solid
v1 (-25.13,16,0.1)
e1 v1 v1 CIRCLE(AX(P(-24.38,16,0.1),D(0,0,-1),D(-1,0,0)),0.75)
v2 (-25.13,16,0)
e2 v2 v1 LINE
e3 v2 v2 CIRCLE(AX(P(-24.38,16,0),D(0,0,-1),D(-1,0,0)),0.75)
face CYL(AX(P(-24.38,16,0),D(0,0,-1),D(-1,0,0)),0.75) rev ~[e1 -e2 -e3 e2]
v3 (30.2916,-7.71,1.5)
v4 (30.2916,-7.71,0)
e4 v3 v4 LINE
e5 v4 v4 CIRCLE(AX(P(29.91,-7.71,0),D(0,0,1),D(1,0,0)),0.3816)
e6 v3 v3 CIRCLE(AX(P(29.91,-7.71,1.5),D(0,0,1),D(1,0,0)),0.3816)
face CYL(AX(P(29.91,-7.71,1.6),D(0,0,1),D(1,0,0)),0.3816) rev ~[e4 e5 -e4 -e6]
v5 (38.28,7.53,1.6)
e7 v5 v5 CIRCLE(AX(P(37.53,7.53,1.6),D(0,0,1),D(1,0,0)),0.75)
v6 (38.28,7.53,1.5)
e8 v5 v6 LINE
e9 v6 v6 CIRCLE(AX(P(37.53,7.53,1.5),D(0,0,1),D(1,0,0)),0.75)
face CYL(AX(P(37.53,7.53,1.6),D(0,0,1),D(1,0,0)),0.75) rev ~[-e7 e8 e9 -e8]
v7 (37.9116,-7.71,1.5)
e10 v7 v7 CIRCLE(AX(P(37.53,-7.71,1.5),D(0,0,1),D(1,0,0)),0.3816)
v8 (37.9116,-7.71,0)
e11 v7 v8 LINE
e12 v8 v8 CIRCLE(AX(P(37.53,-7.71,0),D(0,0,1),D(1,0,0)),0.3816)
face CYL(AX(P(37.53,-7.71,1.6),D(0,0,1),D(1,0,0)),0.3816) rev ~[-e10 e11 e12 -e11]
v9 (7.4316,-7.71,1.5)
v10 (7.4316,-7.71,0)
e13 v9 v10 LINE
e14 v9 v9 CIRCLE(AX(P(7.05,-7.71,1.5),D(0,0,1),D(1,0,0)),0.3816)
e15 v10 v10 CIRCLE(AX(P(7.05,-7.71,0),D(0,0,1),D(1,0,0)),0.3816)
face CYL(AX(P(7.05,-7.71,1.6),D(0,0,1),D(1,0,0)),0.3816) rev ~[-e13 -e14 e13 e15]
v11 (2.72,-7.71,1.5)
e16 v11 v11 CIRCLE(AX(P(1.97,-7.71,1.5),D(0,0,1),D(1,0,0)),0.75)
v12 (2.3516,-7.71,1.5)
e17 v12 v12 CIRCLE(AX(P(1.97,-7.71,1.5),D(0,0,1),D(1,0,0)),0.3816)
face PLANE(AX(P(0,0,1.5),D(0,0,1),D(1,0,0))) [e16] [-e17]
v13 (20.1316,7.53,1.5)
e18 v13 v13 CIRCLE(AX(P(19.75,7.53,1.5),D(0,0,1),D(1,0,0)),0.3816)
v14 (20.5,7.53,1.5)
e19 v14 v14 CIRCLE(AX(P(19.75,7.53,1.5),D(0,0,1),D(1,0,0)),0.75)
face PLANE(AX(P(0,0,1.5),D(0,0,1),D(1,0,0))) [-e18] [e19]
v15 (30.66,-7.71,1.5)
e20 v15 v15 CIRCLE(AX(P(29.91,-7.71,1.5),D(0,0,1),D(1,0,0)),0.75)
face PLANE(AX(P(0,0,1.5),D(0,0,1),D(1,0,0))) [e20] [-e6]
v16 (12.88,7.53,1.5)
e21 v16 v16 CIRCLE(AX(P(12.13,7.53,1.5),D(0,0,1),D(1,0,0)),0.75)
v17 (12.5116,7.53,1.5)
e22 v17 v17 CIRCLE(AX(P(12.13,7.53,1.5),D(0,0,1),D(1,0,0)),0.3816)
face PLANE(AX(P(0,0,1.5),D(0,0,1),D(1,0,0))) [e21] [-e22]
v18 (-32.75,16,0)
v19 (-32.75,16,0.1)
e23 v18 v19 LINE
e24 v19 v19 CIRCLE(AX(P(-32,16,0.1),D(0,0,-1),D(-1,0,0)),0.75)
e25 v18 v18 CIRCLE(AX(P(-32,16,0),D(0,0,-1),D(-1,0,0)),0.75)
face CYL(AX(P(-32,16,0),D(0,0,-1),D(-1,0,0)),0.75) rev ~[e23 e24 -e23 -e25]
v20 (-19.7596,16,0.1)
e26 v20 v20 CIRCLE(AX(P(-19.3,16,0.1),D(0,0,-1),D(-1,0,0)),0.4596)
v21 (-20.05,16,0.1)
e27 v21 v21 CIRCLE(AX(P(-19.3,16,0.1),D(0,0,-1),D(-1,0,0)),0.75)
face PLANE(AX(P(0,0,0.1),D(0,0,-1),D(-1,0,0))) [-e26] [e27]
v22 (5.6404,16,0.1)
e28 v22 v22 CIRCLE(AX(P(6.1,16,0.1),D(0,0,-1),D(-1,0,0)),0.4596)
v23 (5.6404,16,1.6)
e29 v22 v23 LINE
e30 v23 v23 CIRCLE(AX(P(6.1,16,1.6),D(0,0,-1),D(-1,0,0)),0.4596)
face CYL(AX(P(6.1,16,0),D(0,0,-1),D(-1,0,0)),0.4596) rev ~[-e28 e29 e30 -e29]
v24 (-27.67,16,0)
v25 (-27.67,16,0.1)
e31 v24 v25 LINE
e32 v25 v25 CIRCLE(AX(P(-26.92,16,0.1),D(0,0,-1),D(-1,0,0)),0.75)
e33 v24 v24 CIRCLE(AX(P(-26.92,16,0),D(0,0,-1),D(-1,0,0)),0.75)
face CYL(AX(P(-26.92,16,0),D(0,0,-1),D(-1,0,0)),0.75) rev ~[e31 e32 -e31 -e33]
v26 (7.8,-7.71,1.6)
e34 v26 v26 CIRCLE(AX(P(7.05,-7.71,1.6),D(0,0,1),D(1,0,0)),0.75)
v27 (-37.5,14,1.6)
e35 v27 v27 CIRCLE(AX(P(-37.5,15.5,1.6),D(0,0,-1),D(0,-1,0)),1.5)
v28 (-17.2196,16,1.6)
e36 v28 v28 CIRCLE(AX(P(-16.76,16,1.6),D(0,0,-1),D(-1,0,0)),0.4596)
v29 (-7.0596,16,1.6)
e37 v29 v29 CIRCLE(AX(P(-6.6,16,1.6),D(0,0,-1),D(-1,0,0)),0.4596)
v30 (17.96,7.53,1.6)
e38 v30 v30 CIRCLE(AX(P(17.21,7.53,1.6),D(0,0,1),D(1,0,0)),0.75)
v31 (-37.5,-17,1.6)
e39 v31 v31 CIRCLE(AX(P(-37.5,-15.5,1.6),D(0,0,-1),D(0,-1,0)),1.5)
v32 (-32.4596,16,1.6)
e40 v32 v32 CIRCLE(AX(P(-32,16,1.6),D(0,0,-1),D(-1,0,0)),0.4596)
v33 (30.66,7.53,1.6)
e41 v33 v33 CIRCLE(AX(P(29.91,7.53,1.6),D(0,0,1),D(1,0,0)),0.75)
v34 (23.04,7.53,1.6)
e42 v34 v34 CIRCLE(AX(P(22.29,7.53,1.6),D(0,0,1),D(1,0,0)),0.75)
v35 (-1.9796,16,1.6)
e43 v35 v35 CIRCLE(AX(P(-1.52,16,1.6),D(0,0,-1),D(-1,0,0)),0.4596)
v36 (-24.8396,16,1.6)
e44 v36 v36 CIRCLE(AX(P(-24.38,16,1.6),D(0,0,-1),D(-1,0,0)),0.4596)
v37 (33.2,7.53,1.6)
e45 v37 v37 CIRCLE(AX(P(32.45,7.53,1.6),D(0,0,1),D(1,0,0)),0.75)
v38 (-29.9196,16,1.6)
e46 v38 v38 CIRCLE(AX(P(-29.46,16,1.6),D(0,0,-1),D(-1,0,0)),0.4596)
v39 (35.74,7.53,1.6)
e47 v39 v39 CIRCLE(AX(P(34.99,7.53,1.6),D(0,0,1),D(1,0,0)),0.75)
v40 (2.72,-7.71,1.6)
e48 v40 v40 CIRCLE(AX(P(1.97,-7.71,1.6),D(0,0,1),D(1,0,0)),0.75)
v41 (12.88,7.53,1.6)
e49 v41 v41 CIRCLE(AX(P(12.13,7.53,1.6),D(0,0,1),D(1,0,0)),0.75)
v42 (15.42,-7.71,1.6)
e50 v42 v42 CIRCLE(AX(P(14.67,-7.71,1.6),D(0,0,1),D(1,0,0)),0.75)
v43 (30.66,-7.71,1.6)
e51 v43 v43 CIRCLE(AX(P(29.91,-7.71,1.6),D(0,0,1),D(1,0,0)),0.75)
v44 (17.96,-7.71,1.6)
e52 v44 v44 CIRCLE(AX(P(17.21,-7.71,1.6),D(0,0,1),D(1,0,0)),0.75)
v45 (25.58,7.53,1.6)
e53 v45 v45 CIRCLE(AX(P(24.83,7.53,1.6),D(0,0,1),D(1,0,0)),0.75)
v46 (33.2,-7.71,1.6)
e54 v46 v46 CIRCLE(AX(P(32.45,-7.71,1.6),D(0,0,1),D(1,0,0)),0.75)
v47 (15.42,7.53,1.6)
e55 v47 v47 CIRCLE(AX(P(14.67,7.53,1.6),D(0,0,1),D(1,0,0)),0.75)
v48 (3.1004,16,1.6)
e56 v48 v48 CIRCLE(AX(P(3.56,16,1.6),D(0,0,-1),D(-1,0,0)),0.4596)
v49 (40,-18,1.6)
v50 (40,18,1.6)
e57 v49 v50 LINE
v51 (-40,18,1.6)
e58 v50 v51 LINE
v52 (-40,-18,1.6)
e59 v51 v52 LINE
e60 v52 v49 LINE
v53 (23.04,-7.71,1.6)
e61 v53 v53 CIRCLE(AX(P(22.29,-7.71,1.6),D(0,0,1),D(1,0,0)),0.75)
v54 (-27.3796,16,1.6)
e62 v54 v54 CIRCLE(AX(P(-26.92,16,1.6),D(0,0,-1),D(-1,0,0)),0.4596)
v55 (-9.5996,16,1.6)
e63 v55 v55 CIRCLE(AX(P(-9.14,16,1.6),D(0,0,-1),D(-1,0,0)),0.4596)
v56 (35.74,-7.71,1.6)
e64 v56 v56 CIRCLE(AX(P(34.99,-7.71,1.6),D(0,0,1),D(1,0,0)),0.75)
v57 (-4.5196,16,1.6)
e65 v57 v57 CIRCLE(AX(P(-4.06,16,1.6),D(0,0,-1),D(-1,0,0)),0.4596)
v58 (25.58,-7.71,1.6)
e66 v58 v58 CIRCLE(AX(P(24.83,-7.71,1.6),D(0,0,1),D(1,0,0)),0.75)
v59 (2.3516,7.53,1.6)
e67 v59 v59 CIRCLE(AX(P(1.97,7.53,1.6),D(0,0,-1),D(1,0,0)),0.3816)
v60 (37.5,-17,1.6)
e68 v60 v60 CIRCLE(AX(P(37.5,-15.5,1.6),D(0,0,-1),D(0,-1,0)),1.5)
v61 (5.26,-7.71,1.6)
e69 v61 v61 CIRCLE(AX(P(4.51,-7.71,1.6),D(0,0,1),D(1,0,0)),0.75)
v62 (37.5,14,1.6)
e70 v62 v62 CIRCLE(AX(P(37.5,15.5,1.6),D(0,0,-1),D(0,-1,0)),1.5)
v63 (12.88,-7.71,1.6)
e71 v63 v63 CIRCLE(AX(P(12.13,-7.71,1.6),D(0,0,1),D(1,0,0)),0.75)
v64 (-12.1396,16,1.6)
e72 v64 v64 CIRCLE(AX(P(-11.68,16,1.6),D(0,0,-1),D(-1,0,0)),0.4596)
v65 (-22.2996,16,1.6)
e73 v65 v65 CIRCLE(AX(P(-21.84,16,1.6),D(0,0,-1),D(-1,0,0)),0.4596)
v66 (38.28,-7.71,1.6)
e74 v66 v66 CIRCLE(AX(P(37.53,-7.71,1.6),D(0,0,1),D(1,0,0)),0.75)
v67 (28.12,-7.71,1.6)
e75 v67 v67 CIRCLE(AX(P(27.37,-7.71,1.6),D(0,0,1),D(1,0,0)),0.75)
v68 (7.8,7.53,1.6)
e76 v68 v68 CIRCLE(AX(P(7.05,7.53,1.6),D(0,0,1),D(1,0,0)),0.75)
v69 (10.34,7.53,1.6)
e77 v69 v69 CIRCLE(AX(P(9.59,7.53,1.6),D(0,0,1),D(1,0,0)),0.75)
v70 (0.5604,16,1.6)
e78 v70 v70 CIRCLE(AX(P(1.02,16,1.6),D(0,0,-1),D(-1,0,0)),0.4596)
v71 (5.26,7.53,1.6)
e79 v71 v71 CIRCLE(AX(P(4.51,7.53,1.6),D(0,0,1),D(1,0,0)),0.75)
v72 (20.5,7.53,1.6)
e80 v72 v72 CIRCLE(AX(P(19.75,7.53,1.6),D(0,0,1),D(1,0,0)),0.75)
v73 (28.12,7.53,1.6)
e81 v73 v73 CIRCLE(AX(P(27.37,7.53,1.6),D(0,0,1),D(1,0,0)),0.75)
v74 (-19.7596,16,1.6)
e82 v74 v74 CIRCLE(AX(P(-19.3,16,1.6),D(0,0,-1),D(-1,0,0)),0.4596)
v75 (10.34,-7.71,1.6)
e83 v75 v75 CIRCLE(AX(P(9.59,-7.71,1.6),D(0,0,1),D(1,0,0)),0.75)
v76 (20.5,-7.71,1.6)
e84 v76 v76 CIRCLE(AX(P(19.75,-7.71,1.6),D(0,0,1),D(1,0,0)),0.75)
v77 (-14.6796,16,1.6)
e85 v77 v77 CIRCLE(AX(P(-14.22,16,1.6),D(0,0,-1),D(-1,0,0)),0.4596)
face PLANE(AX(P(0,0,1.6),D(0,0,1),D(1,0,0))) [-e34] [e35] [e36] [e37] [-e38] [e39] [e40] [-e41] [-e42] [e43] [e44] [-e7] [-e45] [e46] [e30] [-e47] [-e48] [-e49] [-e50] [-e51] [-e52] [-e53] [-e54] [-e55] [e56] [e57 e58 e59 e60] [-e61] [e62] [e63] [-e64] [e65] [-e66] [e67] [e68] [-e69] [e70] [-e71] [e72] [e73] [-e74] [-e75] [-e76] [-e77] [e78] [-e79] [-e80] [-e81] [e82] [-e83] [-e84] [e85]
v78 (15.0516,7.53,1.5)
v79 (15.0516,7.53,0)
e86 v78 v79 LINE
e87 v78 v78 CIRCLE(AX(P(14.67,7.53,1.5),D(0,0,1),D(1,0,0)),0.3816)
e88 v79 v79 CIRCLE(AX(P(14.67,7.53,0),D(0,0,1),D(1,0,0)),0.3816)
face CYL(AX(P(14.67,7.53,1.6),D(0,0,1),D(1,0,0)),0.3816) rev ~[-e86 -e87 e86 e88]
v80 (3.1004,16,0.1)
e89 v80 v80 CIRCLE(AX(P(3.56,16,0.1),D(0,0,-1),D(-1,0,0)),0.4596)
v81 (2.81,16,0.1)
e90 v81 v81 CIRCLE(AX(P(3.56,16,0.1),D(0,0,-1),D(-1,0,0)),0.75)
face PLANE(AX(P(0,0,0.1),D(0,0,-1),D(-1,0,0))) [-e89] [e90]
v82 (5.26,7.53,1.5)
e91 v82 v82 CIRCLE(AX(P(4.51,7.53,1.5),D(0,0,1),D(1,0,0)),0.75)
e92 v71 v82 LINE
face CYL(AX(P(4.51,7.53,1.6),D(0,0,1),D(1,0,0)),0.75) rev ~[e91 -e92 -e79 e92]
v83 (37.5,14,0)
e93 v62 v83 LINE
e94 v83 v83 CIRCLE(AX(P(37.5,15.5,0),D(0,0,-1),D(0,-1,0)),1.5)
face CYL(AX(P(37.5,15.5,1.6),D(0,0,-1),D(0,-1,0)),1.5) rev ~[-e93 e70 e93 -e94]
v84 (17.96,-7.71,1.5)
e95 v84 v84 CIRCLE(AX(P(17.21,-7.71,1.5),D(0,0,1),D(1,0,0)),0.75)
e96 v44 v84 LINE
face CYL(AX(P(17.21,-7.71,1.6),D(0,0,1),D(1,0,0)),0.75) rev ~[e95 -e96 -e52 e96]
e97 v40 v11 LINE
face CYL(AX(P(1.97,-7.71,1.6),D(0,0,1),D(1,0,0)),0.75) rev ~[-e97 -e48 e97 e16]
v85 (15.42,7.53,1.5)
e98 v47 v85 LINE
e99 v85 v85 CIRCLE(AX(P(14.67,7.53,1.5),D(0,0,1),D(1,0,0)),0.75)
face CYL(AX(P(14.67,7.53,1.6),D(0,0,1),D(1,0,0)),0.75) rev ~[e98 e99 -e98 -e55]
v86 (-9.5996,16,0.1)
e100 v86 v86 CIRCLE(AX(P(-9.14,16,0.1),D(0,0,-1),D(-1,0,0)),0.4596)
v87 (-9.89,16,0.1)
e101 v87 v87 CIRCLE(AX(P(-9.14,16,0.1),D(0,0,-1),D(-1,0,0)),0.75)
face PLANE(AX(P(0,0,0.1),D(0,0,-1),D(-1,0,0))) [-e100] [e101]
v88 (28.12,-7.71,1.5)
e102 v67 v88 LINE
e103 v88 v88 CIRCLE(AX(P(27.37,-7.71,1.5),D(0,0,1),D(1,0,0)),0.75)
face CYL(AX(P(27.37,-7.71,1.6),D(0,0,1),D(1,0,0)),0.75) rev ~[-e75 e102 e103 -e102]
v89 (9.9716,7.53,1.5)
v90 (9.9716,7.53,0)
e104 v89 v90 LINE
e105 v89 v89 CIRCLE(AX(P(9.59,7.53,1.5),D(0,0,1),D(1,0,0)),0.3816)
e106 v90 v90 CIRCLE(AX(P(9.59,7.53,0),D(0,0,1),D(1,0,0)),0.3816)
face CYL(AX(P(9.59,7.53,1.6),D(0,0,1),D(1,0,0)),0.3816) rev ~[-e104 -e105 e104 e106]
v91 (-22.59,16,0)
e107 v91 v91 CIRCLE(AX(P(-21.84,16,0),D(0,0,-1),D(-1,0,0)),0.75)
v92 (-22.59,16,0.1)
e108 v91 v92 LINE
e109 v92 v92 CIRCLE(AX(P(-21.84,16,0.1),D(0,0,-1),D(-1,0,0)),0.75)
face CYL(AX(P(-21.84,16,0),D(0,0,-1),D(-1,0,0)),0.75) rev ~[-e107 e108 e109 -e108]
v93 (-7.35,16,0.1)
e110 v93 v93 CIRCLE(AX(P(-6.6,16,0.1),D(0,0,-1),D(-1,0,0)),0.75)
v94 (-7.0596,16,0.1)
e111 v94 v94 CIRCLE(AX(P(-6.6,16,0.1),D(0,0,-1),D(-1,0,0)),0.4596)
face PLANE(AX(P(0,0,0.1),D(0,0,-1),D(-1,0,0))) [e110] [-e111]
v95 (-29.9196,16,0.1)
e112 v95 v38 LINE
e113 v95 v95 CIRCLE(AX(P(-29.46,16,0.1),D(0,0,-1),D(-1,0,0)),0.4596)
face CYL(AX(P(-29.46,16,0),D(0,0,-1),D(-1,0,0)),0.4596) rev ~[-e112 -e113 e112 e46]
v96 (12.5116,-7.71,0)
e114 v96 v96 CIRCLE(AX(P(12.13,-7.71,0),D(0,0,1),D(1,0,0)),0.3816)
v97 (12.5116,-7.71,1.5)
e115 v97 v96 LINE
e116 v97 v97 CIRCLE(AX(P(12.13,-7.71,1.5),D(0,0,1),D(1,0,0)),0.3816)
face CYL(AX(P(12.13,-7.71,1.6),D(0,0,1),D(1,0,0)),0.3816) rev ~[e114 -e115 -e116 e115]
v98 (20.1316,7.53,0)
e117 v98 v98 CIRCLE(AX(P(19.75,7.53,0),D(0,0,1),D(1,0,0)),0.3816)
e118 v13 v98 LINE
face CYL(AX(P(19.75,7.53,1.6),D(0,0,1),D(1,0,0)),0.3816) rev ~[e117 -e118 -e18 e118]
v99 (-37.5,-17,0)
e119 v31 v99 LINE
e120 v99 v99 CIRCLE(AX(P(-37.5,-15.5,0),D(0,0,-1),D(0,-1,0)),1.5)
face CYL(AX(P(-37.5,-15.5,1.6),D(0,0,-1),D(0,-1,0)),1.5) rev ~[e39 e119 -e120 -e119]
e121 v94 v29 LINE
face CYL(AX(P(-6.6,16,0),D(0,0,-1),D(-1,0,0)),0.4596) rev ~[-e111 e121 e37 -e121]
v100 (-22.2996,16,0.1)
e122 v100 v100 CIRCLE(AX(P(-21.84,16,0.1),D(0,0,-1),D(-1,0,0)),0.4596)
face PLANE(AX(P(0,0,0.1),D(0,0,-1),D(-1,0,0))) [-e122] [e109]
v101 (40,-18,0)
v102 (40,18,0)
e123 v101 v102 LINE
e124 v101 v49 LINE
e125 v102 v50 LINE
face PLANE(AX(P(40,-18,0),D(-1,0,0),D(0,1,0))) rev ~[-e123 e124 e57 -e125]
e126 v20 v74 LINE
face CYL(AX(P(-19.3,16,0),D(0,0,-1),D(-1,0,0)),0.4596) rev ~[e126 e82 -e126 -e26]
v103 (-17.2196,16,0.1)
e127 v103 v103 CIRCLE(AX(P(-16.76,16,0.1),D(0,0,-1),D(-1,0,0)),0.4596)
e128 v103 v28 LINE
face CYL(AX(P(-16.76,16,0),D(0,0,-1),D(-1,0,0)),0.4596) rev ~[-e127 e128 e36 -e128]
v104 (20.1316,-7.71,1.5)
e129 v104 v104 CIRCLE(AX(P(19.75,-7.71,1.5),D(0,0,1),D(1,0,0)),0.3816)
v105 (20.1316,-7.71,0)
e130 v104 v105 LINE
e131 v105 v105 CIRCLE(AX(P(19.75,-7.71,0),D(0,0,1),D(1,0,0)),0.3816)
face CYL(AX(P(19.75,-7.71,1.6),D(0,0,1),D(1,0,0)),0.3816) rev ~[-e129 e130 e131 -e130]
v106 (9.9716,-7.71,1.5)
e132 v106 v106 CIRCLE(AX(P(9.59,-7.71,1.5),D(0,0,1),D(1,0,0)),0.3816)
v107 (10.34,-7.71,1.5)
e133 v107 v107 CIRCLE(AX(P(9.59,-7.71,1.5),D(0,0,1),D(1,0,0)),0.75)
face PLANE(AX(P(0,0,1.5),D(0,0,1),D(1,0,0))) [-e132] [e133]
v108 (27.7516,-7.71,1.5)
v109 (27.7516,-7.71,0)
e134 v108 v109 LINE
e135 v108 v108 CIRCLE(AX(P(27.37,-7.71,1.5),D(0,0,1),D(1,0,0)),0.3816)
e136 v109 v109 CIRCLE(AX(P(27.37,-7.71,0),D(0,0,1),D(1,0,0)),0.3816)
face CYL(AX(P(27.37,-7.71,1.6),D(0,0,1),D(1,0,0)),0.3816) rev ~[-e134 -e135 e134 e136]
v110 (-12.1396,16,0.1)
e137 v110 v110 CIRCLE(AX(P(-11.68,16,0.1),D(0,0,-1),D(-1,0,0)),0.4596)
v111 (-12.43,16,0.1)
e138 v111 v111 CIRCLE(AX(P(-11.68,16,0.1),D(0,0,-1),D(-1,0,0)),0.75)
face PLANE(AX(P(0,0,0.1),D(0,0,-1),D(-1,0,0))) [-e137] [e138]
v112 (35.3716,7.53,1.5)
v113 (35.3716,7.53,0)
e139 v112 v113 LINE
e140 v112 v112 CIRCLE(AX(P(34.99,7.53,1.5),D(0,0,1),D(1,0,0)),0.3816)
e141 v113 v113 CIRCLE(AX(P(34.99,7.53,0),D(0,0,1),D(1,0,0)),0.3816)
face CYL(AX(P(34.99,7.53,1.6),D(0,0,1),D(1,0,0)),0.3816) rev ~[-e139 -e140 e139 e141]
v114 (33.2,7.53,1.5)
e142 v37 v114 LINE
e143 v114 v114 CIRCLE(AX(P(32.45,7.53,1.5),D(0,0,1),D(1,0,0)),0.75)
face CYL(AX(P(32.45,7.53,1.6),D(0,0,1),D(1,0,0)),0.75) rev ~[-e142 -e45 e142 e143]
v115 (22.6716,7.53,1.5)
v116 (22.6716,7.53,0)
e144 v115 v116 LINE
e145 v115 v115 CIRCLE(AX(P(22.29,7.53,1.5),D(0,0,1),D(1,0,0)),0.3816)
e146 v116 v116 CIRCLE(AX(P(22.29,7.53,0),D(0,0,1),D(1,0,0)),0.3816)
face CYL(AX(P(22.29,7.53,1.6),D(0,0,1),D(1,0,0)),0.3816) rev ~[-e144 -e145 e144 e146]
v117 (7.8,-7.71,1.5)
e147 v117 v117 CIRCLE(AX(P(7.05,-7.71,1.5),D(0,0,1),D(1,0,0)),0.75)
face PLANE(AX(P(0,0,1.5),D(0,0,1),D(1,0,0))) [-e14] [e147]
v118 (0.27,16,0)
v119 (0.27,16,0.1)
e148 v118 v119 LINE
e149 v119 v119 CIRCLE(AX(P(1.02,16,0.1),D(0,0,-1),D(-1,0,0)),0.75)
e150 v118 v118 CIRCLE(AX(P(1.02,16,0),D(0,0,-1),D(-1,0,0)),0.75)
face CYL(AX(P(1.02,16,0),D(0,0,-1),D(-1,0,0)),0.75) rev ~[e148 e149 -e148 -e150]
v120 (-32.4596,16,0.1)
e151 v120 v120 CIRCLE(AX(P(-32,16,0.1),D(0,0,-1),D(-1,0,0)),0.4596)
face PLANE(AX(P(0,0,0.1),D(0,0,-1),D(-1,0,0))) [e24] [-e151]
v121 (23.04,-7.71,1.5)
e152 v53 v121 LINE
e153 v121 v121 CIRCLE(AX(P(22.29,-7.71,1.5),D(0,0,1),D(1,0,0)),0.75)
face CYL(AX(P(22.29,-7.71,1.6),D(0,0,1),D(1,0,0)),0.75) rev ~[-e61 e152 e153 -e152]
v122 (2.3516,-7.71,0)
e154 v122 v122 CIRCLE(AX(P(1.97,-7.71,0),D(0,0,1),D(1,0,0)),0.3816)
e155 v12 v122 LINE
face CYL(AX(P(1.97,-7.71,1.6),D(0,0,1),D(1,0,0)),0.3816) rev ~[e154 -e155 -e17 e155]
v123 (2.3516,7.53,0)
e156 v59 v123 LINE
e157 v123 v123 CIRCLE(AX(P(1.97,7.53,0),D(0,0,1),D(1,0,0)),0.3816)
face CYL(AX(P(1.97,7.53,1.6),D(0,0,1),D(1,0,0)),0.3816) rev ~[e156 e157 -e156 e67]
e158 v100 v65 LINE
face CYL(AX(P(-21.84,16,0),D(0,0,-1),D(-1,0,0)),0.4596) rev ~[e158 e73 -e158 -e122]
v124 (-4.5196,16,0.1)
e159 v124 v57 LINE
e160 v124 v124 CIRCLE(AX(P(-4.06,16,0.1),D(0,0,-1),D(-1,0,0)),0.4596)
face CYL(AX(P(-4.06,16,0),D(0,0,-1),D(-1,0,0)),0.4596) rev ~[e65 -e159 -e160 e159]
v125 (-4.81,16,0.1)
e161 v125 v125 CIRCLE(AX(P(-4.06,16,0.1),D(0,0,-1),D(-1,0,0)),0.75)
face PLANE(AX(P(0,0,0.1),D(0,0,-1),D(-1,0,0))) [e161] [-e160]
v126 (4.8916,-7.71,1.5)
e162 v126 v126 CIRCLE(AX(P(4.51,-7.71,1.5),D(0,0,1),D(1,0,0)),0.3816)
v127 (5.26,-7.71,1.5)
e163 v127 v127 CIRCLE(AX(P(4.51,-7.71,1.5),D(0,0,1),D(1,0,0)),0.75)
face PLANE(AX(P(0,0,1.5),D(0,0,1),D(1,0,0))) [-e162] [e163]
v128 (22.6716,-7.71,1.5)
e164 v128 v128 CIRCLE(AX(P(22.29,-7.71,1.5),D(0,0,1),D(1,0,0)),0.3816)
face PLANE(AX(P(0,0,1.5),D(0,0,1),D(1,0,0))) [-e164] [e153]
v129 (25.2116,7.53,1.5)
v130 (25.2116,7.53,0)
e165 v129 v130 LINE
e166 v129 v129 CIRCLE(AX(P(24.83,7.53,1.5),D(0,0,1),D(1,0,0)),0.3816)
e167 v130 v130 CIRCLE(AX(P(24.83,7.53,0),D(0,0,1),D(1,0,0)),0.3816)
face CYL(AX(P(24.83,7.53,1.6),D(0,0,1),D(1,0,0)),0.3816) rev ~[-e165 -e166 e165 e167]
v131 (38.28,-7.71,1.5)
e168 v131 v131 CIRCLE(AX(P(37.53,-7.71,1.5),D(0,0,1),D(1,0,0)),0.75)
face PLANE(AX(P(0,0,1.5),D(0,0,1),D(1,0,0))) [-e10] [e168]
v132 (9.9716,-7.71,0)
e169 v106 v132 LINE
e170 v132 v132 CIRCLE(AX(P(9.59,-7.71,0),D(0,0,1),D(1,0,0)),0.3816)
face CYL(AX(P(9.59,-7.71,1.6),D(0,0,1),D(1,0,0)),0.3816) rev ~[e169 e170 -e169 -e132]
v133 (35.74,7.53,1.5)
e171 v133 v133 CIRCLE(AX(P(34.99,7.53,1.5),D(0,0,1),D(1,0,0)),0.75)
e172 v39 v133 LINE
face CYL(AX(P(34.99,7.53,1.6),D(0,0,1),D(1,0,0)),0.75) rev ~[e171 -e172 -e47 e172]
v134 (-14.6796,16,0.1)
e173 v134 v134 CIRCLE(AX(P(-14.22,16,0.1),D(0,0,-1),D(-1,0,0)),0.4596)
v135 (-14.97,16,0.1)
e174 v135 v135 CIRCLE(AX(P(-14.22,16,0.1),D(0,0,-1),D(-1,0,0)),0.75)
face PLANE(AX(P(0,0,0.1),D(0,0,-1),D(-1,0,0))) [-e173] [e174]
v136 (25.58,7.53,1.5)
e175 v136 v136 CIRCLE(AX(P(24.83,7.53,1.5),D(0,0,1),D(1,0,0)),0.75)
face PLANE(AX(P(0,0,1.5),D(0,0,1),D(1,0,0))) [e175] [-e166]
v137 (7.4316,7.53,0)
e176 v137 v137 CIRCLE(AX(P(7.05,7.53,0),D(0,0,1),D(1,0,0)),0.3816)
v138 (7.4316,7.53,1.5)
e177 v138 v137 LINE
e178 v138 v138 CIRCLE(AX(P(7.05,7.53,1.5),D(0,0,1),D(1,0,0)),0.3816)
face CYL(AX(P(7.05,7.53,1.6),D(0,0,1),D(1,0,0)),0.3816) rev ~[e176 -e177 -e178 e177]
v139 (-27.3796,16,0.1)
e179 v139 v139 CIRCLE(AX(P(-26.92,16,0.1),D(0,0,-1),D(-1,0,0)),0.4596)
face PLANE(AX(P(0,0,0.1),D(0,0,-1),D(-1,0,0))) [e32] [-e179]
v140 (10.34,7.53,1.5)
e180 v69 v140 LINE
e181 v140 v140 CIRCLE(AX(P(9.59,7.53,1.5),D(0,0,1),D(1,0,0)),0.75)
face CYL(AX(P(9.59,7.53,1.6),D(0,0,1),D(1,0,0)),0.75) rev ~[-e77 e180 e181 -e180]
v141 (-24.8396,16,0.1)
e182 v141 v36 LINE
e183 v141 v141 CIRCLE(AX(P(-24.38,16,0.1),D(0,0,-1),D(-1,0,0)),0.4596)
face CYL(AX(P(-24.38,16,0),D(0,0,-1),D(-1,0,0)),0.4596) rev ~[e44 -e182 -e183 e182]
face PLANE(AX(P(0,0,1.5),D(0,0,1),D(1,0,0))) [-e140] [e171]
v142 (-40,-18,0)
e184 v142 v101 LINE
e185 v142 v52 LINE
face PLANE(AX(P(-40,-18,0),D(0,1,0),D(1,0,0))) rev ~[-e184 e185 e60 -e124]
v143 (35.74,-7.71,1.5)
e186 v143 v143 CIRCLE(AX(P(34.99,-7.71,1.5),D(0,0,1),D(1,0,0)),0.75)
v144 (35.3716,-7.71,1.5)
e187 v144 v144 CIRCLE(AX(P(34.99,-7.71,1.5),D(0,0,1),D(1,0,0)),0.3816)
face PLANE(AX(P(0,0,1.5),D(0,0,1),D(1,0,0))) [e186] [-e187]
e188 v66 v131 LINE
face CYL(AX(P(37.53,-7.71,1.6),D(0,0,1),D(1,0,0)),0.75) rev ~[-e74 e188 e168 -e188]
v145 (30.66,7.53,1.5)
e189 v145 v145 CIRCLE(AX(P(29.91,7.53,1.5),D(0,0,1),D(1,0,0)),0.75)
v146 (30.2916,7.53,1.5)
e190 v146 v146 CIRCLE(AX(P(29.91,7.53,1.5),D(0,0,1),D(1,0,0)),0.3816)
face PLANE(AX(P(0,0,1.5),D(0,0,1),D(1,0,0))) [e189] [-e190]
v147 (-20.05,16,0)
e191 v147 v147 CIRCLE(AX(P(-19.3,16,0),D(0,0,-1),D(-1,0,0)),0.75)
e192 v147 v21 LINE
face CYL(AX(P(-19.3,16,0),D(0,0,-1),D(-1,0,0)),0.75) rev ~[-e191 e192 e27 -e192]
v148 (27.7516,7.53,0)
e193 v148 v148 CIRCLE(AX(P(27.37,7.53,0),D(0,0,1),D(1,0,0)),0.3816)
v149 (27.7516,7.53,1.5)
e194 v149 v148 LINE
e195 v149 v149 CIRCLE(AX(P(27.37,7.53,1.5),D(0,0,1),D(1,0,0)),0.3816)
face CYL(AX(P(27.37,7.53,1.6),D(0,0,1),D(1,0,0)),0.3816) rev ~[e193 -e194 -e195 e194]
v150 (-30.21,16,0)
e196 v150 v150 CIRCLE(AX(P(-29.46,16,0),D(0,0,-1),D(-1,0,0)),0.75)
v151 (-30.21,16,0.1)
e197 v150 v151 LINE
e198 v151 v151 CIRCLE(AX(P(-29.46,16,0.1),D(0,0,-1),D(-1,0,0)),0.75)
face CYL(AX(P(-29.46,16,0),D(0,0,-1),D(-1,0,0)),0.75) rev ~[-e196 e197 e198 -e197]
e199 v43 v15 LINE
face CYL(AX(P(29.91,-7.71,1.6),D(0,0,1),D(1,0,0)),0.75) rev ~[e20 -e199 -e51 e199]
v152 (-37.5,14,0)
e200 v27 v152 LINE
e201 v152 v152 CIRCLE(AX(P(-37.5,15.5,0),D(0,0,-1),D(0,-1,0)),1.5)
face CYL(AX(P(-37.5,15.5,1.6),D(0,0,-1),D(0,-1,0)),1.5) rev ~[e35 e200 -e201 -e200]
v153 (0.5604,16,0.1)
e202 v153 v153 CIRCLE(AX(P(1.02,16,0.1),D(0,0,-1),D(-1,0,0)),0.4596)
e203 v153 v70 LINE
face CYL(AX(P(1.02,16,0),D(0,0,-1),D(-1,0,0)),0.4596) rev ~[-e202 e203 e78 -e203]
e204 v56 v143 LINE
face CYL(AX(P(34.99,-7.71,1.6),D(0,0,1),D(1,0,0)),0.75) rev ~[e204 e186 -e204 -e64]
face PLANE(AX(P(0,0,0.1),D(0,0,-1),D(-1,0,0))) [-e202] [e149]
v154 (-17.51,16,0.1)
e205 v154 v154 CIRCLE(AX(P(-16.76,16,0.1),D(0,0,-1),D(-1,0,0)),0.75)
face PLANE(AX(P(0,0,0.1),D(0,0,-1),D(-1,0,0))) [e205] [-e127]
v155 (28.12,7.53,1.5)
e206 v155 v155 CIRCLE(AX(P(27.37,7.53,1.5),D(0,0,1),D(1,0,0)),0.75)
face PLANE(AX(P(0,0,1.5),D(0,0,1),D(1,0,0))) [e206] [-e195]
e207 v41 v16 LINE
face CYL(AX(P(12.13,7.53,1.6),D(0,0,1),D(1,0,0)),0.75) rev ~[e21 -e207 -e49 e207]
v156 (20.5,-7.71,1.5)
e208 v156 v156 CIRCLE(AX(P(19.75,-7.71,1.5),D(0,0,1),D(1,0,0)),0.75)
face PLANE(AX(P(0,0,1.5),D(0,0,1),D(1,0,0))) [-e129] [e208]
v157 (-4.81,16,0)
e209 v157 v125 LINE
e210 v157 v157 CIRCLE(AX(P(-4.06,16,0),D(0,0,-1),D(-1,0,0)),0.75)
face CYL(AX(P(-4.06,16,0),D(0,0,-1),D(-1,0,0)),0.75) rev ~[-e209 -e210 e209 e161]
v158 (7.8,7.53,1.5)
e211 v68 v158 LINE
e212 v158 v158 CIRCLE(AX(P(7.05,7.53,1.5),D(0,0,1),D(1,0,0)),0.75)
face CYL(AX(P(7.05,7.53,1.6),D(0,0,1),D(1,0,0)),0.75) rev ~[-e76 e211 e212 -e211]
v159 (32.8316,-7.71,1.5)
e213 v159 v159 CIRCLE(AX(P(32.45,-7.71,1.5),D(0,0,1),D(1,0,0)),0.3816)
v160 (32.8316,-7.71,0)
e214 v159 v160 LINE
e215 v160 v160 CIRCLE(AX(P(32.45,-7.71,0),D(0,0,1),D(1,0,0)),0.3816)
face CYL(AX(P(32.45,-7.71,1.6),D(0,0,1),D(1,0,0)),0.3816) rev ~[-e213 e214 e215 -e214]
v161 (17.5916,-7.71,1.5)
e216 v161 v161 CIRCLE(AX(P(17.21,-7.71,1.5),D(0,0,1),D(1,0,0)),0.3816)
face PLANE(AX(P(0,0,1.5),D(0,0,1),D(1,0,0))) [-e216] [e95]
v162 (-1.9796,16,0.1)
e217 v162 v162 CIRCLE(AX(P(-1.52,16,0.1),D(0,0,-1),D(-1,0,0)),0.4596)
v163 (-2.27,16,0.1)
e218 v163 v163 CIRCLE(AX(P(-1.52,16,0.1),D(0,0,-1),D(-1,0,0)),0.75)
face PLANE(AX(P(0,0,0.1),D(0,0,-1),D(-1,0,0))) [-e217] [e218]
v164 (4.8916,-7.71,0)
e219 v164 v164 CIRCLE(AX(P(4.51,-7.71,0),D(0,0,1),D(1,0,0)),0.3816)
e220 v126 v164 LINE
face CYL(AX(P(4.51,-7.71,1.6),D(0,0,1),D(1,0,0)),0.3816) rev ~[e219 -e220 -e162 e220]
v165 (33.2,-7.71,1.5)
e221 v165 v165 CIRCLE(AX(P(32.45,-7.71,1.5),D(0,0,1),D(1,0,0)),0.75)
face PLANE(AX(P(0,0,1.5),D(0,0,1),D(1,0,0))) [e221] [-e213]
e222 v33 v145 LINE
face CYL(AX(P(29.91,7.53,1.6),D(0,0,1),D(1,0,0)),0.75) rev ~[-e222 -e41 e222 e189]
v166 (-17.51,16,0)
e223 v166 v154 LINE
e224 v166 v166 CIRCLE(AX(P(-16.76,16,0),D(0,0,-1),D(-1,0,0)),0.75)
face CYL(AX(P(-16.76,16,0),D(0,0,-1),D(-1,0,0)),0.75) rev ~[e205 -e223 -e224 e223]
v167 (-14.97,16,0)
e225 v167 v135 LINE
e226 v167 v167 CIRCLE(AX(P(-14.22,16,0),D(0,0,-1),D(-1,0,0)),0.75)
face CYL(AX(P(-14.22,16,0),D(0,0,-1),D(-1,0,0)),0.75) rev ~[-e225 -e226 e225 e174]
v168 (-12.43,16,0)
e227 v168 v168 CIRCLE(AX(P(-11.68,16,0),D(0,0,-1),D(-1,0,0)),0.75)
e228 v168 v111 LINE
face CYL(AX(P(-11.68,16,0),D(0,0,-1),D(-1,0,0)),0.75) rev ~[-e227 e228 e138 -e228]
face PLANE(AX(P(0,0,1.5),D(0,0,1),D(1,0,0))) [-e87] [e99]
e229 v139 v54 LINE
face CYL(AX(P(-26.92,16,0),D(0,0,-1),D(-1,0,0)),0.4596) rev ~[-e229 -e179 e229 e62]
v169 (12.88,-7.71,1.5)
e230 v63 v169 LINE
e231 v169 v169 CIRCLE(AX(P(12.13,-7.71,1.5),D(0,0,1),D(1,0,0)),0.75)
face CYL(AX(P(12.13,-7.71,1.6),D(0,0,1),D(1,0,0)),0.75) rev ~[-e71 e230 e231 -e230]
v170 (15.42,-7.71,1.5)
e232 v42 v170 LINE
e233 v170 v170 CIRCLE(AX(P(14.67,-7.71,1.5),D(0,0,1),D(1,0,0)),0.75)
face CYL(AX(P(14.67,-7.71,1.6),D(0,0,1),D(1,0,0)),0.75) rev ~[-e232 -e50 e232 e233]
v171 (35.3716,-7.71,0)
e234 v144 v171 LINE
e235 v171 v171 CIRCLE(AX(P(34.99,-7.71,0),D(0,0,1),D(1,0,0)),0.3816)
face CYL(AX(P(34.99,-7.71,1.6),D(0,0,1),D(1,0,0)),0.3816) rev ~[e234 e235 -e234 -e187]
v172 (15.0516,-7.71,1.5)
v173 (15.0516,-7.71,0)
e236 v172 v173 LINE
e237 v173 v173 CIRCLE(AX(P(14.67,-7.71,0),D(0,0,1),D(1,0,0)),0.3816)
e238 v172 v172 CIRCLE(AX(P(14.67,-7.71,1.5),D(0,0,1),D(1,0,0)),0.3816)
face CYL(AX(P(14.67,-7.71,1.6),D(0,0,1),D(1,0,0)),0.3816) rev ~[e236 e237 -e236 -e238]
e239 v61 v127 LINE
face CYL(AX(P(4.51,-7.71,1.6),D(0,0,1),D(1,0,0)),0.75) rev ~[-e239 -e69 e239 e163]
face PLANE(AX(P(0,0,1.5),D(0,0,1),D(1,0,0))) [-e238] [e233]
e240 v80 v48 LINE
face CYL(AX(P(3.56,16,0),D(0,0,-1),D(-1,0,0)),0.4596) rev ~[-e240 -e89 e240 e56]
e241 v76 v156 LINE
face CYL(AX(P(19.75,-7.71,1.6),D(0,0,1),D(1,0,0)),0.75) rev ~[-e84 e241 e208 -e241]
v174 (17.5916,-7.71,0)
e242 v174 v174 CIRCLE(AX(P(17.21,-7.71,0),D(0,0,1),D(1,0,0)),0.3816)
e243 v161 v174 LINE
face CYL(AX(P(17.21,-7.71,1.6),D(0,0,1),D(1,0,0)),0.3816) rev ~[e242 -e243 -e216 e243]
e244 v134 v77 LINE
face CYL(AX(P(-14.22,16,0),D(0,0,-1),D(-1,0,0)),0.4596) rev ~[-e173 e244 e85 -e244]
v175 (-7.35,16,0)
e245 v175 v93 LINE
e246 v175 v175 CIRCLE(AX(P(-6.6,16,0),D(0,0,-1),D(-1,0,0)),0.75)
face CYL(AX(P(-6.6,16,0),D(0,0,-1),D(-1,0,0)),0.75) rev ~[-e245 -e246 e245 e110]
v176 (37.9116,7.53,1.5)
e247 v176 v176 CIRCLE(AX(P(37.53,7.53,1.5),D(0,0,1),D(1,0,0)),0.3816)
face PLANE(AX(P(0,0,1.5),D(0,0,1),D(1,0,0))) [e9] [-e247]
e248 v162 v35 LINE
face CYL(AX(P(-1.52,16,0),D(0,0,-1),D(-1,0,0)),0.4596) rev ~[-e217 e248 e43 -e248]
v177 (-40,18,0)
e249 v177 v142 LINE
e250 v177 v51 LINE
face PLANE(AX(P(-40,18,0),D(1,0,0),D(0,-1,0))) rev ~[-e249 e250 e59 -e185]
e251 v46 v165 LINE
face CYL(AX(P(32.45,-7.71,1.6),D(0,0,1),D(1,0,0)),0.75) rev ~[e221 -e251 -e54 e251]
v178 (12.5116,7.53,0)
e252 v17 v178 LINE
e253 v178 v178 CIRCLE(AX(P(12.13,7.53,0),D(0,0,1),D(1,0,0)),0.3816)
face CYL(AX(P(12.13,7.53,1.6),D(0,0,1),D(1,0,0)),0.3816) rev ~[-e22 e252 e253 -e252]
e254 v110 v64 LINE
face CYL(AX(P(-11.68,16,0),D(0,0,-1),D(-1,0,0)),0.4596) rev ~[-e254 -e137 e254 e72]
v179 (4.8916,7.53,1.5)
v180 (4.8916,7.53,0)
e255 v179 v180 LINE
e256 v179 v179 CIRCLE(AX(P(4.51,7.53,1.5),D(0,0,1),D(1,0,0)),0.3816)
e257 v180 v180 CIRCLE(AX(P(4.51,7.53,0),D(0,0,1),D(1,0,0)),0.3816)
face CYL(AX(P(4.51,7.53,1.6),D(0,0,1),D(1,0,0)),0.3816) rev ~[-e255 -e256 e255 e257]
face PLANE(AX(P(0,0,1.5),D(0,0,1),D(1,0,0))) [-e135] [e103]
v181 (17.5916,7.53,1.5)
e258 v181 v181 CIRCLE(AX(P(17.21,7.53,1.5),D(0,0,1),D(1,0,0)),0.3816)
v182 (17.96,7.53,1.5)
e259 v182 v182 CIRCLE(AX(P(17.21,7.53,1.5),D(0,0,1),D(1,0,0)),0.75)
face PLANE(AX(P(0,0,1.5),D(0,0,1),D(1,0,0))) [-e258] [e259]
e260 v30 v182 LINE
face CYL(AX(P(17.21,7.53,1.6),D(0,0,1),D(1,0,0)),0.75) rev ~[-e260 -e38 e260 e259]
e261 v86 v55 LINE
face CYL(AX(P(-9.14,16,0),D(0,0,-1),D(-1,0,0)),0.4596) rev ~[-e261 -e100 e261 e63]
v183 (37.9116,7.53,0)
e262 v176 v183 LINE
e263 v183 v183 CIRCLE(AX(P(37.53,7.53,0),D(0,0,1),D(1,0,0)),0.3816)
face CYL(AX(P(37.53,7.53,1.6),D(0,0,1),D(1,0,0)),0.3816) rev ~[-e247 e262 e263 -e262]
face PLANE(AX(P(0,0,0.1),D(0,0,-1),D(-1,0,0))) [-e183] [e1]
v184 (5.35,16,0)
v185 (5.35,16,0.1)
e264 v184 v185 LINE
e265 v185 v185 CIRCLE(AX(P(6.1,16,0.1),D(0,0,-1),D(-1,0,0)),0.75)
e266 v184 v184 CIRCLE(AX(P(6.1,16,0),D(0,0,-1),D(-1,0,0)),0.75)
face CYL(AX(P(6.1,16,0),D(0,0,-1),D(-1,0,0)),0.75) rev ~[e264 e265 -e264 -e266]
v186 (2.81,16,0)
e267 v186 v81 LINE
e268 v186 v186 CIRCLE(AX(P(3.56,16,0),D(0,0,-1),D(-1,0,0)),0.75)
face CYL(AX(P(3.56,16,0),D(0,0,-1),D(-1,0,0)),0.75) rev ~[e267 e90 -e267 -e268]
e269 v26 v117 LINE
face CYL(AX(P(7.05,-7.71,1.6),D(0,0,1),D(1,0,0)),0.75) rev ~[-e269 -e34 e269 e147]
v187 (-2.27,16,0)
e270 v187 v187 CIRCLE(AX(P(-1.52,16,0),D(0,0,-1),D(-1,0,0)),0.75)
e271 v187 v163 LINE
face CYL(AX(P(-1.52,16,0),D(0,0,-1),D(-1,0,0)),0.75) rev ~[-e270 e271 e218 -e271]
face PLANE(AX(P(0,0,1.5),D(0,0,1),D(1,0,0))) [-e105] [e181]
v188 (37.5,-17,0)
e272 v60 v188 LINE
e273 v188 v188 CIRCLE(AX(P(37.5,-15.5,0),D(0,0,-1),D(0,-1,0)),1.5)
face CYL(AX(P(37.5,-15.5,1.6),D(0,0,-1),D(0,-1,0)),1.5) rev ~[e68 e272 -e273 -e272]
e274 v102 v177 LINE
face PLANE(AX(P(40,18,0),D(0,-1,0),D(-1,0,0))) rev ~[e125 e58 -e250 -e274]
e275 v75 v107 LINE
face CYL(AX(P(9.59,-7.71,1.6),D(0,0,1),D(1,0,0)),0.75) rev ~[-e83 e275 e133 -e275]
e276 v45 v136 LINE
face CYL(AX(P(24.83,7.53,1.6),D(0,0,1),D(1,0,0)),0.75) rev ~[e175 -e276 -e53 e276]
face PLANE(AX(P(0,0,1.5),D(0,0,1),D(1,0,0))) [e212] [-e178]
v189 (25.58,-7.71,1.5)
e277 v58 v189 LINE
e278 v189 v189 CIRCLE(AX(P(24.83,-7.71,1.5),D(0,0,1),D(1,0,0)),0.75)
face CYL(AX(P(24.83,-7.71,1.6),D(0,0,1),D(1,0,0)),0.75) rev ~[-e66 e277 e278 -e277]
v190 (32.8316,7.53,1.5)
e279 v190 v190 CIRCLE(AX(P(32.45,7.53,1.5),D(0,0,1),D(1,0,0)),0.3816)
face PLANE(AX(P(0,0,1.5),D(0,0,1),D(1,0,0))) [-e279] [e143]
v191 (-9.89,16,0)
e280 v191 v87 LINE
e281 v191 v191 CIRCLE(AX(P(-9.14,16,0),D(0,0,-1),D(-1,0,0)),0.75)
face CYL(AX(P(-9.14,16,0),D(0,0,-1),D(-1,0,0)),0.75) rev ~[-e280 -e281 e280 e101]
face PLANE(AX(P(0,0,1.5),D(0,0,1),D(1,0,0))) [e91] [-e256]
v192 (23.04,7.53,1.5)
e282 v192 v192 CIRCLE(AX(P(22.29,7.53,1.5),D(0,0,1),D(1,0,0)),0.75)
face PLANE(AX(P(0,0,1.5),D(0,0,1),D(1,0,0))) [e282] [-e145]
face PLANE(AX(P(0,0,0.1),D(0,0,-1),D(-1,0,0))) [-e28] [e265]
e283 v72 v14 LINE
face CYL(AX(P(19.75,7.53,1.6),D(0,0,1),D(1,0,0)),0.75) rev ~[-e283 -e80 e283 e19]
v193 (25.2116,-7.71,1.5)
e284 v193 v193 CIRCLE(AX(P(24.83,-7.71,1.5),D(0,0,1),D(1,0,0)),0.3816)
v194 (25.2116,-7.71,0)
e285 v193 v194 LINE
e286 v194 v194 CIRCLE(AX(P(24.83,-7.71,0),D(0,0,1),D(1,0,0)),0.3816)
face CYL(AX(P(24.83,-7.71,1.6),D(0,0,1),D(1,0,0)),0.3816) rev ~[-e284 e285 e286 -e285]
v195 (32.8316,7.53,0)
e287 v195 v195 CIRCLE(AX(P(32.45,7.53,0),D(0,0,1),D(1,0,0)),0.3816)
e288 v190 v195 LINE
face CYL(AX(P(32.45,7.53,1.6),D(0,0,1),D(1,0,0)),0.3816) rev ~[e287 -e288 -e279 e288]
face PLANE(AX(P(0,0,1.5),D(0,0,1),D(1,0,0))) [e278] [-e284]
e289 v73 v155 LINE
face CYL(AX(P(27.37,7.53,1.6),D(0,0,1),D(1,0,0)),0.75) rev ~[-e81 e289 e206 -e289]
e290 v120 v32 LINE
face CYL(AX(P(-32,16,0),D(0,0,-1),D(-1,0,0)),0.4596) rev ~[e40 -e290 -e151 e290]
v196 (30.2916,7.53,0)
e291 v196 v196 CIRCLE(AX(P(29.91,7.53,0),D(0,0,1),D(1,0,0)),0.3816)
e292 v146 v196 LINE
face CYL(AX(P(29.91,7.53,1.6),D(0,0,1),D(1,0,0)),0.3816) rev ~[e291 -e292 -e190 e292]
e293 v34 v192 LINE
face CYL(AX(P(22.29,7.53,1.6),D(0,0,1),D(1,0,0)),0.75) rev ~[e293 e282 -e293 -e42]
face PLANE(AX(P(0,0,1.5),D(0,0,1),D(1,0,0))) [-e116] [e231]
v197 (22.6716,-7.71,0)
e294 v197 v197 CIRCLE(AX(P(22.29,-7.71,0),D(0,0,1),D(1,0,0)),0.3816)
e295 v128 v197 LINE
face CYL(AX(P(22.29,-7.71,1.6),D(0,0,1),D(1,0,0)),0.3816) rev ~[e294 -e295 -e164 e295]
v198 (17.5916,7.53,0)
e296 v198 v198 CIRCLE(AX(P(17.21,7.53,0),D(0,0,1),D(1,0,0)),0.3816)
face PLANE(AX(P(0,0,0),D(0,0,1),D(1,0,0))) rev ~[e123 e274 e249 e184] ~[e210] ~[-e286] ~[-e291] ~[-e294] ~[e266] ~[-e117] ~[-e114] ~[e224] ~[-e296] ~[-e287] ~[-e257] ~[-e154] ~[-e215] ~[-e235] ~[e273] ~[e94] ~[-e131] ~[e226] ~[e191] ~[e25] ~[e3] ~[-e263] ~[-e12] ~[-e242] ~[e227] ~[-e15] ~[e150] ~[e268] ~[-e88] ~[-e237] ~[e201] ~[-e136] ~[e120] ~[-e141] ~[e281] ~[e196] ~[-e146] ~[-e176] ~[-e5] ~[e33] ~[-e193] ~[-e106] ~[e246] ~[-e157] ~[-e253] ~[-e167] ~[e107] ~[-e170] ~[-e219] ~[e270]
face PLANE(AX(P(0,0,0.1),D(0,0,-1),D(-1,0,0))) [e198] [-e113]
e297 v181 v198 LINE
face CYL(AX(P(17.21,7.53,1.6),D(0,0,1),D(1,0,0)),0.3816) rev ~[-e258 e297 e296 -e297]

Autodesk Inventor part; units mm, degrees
ref_plane "YZ Plane" through (0, 0, 0) normal (1, 0, 0) x (0, 1, 0)
ref_plane "XZ Plane" through (0, 0, 0) normal (0, 1, 0) x (-1, 0, 0)
ref_plane "XY Plane" through (0, 0, 0) normal (0, 0, 1) x (1, 0, 0)
sketch "Sketch1" plane through (0, 0, 0) normal (0, 0, 1) x (1, 0, 0)
  line L0 (-40, -18) -> (40, -18)
  line L1 (40, -18) -> (40, 18)
  line L2 (40, 18) -> (-40, 18)
  line L3 (-40, 18) -> (-40, -18)
  line L4 (-40, -18) -> (40, 18) construction
  line L5 (40, -18) -> (-40, 18) construction
  point P0 (0, 0)
  dimension "d0" = 36
  dimension "d1" = 80
extrude "Extrusion1" add sketch "Sketch1" along normal blind 1.6
sketch "Sketch2" plane through (0, 0, 1.6) normal (0, 0, 1) x (1, 0, 0)
  line L0 (-37.5, -15.5) -> (37.5, -15.5) construction
  line L1 (37.5, -15.5) -> (37.5, 15.5) construction
  line L2 (37.5, 15.5) -> (-37.5, 15.5) construction
  line L3 (-37.5, 15.5) -> (-37.5, -15.5) construction
  line L4 (-37.5, -15.5) -> (37.5, 15.5) construction
  line L5 (37.5, -15.5) -> (-37.5, 15.5) construction
  point P0 (0, 0)
  dimension "d4" = 31
  dimension "d5" = 75
hole "Hole1" at (-37.5, 15.5, 1.6) at (37.5, 15.5, 1.6) at (37.5, -15.5, 1.6) at (-37.5, -15.5, 1.6) direction (0, 0, -1) diameter 3 depth 10 tip angle 118
sketch "Sketch3" plane through (0, 0, 0) normal (0, 0, -1) x (-1, 0, 0)
  line L0 (27.245, 16.325) -> (27.245, 15.675)
  line L1 (27.245, 15.675) -> (26.595, 15.675)
  line L2 (26.595, 15.675) -> (26.595, 16.325)
  line L3 (26.595, 16.325) -> (27.245, 16.325)
  line L4 (24.705, 16.325) -> (24.705, 15.675)
  line L5 (24.705, 15.675) -> (24.055, 15.675)
  line L6 (24.055, 15.675) -> (24.055, 16.325)
  line L7 (24.055, 16.325) -> (24.705, 16.325)
  line L8 (22.165, 16.325) -> (22.165, 15.675)
  line L9 (22.165, 15.675) -> (21.515, 15.675)
  line L10 (21.515, 15.675) -> (21.515, 16.325)
  line L11 (21.515, 16.325) -> (22.165, 16.325)
  line L12 (19.625, 16.325) -> (19.625, 15.675)
  line L13 (19.625, 15.675) -> (18.975, 15.675)
  line L14 (18.975, 15.675) -> (18.975, 16.325)
  line L15 (18.975, 16.325) -> (19.625, 16.325)
  line L16 (17.085, 16.325) -> (17.085, 15.675)
  line L17 (17.085, 15.675) -> (16.435, 15.675)
  line L18 (16.435, 15.675) -> (16.435, 16.325)
  line L19 (16.435, 16.325) -> (17.085, 16.325)
  line L20 (14.545, 16.325) -> (14.545, 15.675)
  line L21 (14.545, 15.675) -> (13.895, 15.675)
  line L22 (13.895, 15.675) -> (13.895, 16.325)
  line L23 (13.895, 16.325) -> (14.545, 16.325)
  line L24 (4.385, 16.325) -> (4.385, 15.675)
  line L25 (4.385, 15.675) -> (3.735, 15.675)
  line L26 (3.735, 15.675) -> (3.735, 16.325)
  line L27 (3.735, 16.325) -> (4.385, 16.325)
  line L28 (1.845, 16.325) -> (1.845, 15.675)
  line L29 (1.845, 15.675) -> (1.195, 15.675)
  line L30 (1.195, 15.675) -> (1.195, 16.325)
  line L31 (1.195, 16.325) -> (1.845, 16.325)
  line L32 (-0.695, 16.325) -> (-0.695, 15.675)
  line L33 (-0.695, 15.675) -> (-1.345, 15.675)
  line L34 (-1.345, 15.675) -> (-1.345, 16.325)
  line L35 (-1.345, 16.325) -> (-0.695, 16.325)
  line L36 (-3.235, 16.325) -> (-3.235, 15.675)
  line L37 (-3.235, 15.675) -> (-3.885, 15.675)
  line L38 (-3.885, 15.675) -> (-3.885, 16.325)
  line L39 (-3.885, 16.325) -> (-3.235, 16.325)
  line L40 (-5.775, 16.325) -> (-5.775, 15.675)
  line L41 (-5.775, 15.675) -> (-6.425, 15.675)
  line L42 (-6.425, 15.675) -> (-6.425, 16.325)
  line L43 (-6.425, 16.325) -> (-5.775, 16.325)
  line L44 (29.785, 16.325) -> (29.785, 15.675)
  line L45 (29.785, 15.675) -> (29.135, 15.675)
  line L46 (29.135, 15.675) -> (29.135, 16.325)
  line L47 (29.135, 16.325) -> (29.785, 16.325)
  line L48 (12.005, 16.325) -> (12.005, 15.675)
  line L49 (12.005, 15.675) -> (11.355, 15.675)
  line L50 (11.355, 15.675) -> (11.355, 16.325)
  line L51 (11.355, 16.325) -> (12.005, 16.325)
  line L52 (9.465, 16.325) -> (9.465, 15.675)
  line L53 (9.465, 15.675) -> (8.815, 15.675)
  line L54 (8.815, 15.675) -> (8.815, 16.325)
  line L55 (8.815, 16.325) -> (9.465, 16.325)
  line L56 (6.925, 16.325) -> (6.925, 15.675)
  line L57 (6.925, 15.675) -> (6.275, 15.675)
  line L58 (6.275, 15.675) -> (6.275, 16.325)
  line L59 (6.275, 16.325) -> (6.925, 16.325)
  line L60 (32.325, 16.325) -> (32.325, 15.675)
  line L61 (32.325, 15.675) -> (31.675, 15.675)
  line L62 (31.675, 15.675) -> (31.675, 16.325)
  line L63 (31.675, 16.325) -> (32.325, 16.325)
  circle A0 centre (-6.1, 16) radius 0.75
  line L64 (-6.425, 16.325) -> (-5.775, 15.675) construction
  circle A1 centre (-6.1, 16) radius 0.4596
  circle A2 centre (-3.56, 16) radius 0.75
  circle A3 centre (-3.56, 16) radius 0.4596
  circle A4 centre (-1.02, 16) radius 0.75
  circle A5 centre (-1.02, 16) radius 0.4596
  circle A6 centre (1.52, 16) radius 0.75
  circle A7 centre (1.52, 16) radius 0.4596
  circle A8 centre (4.06, 16) radius 0.75
  circle A9 centre (4.06, 16) radius 0.4596
  circle A10 centre (6.6, 16) radius 0.75
  circle A11 centre (6.6, 16) radius 0.4596
  circle A12 centre (9.14, 16) radius 0.75
  circle A13 centre (9.14, 16) radius 0.4596
  circle A14 centre (11.68, 16) radius 0.75
  circle A15 centre (11.68, 16) radius 0.4596
  circle A16 centre (14.22, 16) radius 0.75
  circle A17 centre (14.22, 16) radius 0.4596
  circle A18 centre (16.76, 16) radius 0.75
  circle A19 centre (16.76, 16) radius 0.4596
  circle A20 centre (19.3, 16) radius 0.75
  circle A21 centre (19.3, 16) radius 0.4596
  circle A22 centre (21.84, 16) radius 0.75
  circle A23 centre (21.84, 16) radius 0.4596
  circle A24 centre (24.38, 16) radius 0.75
  circle A25 centre (24.38, 16) radius 0.4596
  circle A26 centre (26.92, 16) radius 0.75
  circle A27 centre (26.92, 16) radius 0.4596
  circle A28 centre (29.46, 16) radius 0.75
  circle A29 centre (29.46, 16) radius 0.4596
  circle A30 centre (32, 16) radius 0.75
  circle A31 centre (32, 16) radius 0.4596
  point P0 (0, 0)
  point P1 (-3.235, 16.325)
  point P2 (-0.695, 16.325)
  point P3 (1.845, 16.325)
  point P4 (4.385, 16.325)
  point P5 (6.925, 16.325)
  point P6 (9.465, 16.325)
  point P7 (12.005, 16.325)
  point P8 (14.545, 16.325)
  point P9 (17.085, 16.325)
  point P10 (19.625, 16.325)
  point P11 (22.165, 16.325)
  point P12 (24.705, 16.325)
  point P13 (27.245, 16.325)
  point P14 (29.785, 16.325)
  point P15 (32.325, 16.325)
  dimension "d15" = 1.5
  dimension "d18" = 2.54
extrude "Extrusion2" cut sketch "Sketch3" against normal blind 10 contours A27 L0 | L0 L1 L2 L3 | L3 A27 | A27 L1 | L2 A27 | A25 L4 | L4 L5 L6 L7 | L7 A25 | A25 L5 | L6 A25 | A23 L8 | L8 L9 L10 L11 | L11 A23 | A23 L9 | L10 A23 | A21 L12 | L12 L13 L14 L15 | L15 A21 | A21 L13 | L14 A21 | A19 L16 | L16 L17 L18 L19 | L19 A19 | A19 L17 | L18 A19 | A17 L20 | L20 L21 L22 L23 | L23 A17 | A17 L21 | L22 A17 | A9 L24 | L24 L25 L26 L27 | L27 A9 | A9 L25 | L26 A9 | A7 L28 | L28 L29 L30 L31 | L31 A7 | A7 L29 | L30 A7 | A5 L32 | L32 L33 L34 L35 | L35 A5 | A5 L33 | L34 A5 | A3 L36 | L36 L37 L38 L39 | L39 A3 | A3 L37 | L38 A3 | A1 L40 | L40 L41 L42 L43 | L43 A1 | A1 L41 | L42 A1 | A29 L44 | L44 L45 L46 L47 | L47 A29 | A29 L45 | L46 A29 | A15 L48 | L48 L49 L50 L51 | L51 A15 | A15 L49 | L50 A15 | A13 L52 | L52 L53 L54 L55 | L55 A13 | A13 L53 | L54 A13 | A11 L56 | L56 L57 L58 L59 | L59 A11 | A11 L57 | L58 A11 | A31 L60 | L60 L61 L62 L63 | L63 A31 | A31 L61 | L62 A31
extrude "Extrusion3" cut sketch "Sketch3" against normal blind 0.1 contours A27 L0 | L0 L1 L2 L3 | L3 A27 | A27 L1 | L2 A27 | A25 L4 | L4 L5 L6 L7 | L7 A25 | A25 L5 | L6 A25 | A23 L8 | L8 L9 L10 L11 | L11 A23 | A23 L9 | L10 A23 | A21 L12 | L12 L13 L14 L15 | L15 A21 | A21 L13 | L14 A21 | A19 L16 | L16 L17 L18 L19 | L19 A19 | A19 L17 | L18 A19 | A17 L20 | L20 L21 L22 L23 | L23 A17 | A17 L21 | L22 A17 | A9 L24 | L24 L25 L26 L27 | L27 A9 | A9 L25 | L26 A9 | A7 L28 | L28 L29 L30 L31 | L31 A7 | A7 L29 | L30 A7 | A5 L32 | L32 L33 L34 L35 | L35 A5 | A5 L33 | L34 A5 | A3 L36 | L36 L37 L38 L39 | L39 A3 | A3 L37 | L38 A3 | A1 L40 | L40 L41 L42 L43 | L43 A1 | A1 L41 | L42 A1 | A29 L44 | L44 L45 L46 L47 | L47 A29 | A29 L45 | L46 A29 | A15 L48 | L48 L49 L50 L51 | L51 A15 | A15 L49 | L50 A15 | A13 L52 | L52 L53 L54 L55 | L55 A13 | A13 L53 | L54 A13 | A11 L56 | L56 L57 L58 L59 | L59 A11 | A11 L57 | L58 A11 | A31 L60 | L60 L61 L62 L63 | L63 A31 | A31 L61 | L62 A31 | A0 | A2 | A4 | A6 | A8 | A10 | A12 | A14 | A16 | A18 | A20 | A22 | A24 | A26 | A28 | A30
sketch "Sketch4" plane through (0, 0, 1.6) normal (0, 0, 1) x (1, 0, 0)
  circle A0 centre (1.97, 7.53) radius 0.3816
  circle A1 centre (1.97, 7.53) radius 0.75
  line L0 (1.645, 7.73) -> (2.295, 7.73)
  line L1 (2.295, 7.73) -> (2.295, 7.33)
  line L2 (2.295, 7.33) -> (1.645, 7.33)
  line L3 (1.645, 7.33) -> (1.645, 7.73)
  line L4 (4.185, 7.73) -> (4.835, 7.73)
  line L5 (4.835, 7.73) -> (4.835, 7.33)
  line L6 (4.835, 7.33) -> (4.185, 7.33)
  line L7 (4.185, 7.33) -> (4.185, 7.73)
  line L8 (1.645, -7.51) -> (2.295, -7.51)
  line L9 (2.295, -7.51) -> (2.295, -7.91)
  line L10 (2.295, -7.91) -> (1.645, -7.91)
  line L11 (1.645, -7.91) -> (1.645, -7.51)
  line L12 (1.645, 7.73) -> (2.295, 7.33) construction
  circle A2 centre (4.51, 7.53) radius 0.3816
  circle A3 centre (4.51, 7.53) radius 0.75
  circle A4 centre (7.05, 7.53) radius 0.3816
  circle A5 centre (7.05, 7.53) radius 0.75
  circle A6 centre (9.59, 7.53) radius 0.3816
  circle A7 centre (9.59, 7.53) radius 0.75
  circle A8 centre (12.13, 7.53) radius 0.3816
  circle A9 centre (12.13, 7.53) radius 0.75
  circle A10 centre (14.67, 7.53) radius 0.3816
  circle A11 centre (14.67, 7.53) radius 0.75
  circle A12 centre (17.21, 7.53) radius 0.3816
  circle A13 centre (17.21, 7.53) radius 0.75
  circle A14 centre (19.75, 7.53) radius 0.3816
  circle A15 centre (19.75, 7.53) radius 0.75
  circle A16 centre (22.29, 7.53) radius 0.3816
  circle A17 centre (22.29, 7.53) radius 0.75
  circle A18 centre (24.83, 7.53) radius 0.3816
  circle A19 centre (24.83, 7.53) radius 0.75
  circle A20 centre (27.37, 7.53) radius 0.3816
  circle A21 centre (27.37, 7.53) radius 0.75
  circle A22 centre (29.91, 7.53) radius 0.3816
  circle A23 centre (29.91, 7.53) radius 0.75
  circle A24 centre (32.45, 7.53) radius 0.3816
  circle A25 centre (32.45, 7.53) radius 0.75
  circle A26 centre (34.99, 7.53) radius 0.3816
  circle A27 centre (34.99, 7.53) radius 0.75
  circle A28 centre (37.53, 7.53) radius 0.3816
  circle A29 centre (37.53, 7.53) radius 0.75
  circle A30 centre (1.97, -7.71) radius 0.3816
  circle A31 centre (1.97, -7.71) radius 0.75
  circle A32 centre (4.51, -7.71) radius 0.3816
  circle A33 centre (4.51, -7.71) radius 0.75
  circle A34 centre (7.05, -7.71) radius 0.3816
  circle A35 centre (7.05, -7.71) radius 0.75
  circle A36 centre (9.59, -7.71) radius 0.3816
  circle A37 centre (9.59, -7.71) radius 0.75
  circle A38 centre (12.13, -7.71) radius 0.3816
  circle A39 centre (12.13, -7.71) radius 0.75
  circle A40 centre (14.67, -7.71) radius 0.3816
  circle A41 centre (14.67, -7.71) radius 0.75
  circle A42 centre (17.21, -7.71) radius 0.3816
  circle A43 centre (17.21, -7.71) radius 0.75
  circle A44 centre (19.75, -7.71) radius 0.3816
  circle A45 centre (19.75, -7.71) radius 0.75
  circle A46 centre (22.29, -7.71) radius 0.3816
  circle A47 centre (22.29, -7.71) radius 0.75
  circle A48 centre (24.83, -7.71) radius 0.3816
  circle A49 centre (24.83, -7.71) radius 0.75
  circle A50 centre (27.37, -7.71) radius 0.3816
  circle A51 centre (27.37, -7.71) radius 0.75
  circle A52 centre (29.91, -7.71) radius 0.3816
  circle A53 centre (29.91, -7.71) radius 0.75
  circle A54 centre (32.45, -7.71) radius 0.3816
  circle A55 centre (32.45, -7.71) radius 0.75
  circle A56 centre (34.99, -7.71) radius 0.3816
  circle A57 centre (34.99, -7.71) radius 0.75
  circle A58 centre (37.53, -7.71) radius 0.3816
  circle A59 centre (37.53, -7.71) radius 0.75
  point P0 (0, 0)
  point P1 (4.835, 7.73)
  point P2 (7.375, 7.73)
  point P3 (9.915, 7.73)
  point P4 (12.455, 7.73)
  point P5 (14.995, 7.73)
  point P6 (17.535, 7.73)
  point P7 (20.075, 7.73)
  point P8 (22.615, 7.73)
  point P9 (25.155, 7.73)
  point P10 (27.695, 7.73)
  point P11 (30.235, 7.73)
  point P12 (32.775, 7.73)
  point P13 (35.315, 7.73)
  point P14 (37.855, 7.73)
  point P15 (2.295, -7.51)
  point P16 (4.835, -7.51)
  point P17 (7.375, -7.51)
  point P18 (9.915, -7.51)
  point P19 (12.455, -7.51)
  point P20 (14.995, -7.51)
  point P21 (17.535, -7.51)
  point P22 (20.075, -7.51)
  point P23 (22.615, -7.51)
  point P24 (25.155, -7.51)
  point P25 (27.695, -7.51)
  point P26 (30.235, -7.51)
  point P27 (32.775, -7.51)
  point P28 (35.315, -7.51)
  point P29 (37.855, -7.51)
  dimension "d25" = 1.5
  dimension "d40" = 2.54
  dimension "d43" = 15.24
extrude "Extrusion4" cut sketch "Sketch4" against normal blind 10 contours A0 L1 | L0 A0 | L1 L2 L3 L0 | A0 L2 | L3 A0 | A2 L4 | L4 L5 L6 L7 | L7 A2 | A2 L5 | L6 A2 | A30 L8 | L8 L9 L10 L11 | L11 A30 | A30 L9 | L10 A30 | A4 | A6 | A8 | A10 | A12 | A14 | A16 | A18 | A20 | A22 | A24 | A26 | A28 | A32 | A34 | A36 | A38 | A40 | A42 | A44 | A46 | A48 | A50 | A52 | A54 | A56 | A58
extrude "Extrusion5" cut sketch "Sketch4" against normal blind 0.1 contours A2 L4 | L4 L5 L6 L7 | L7 A2 | A2 L5 | L6 A2 | A30 L8 | L8 L9 L10 L11 | L11 A30 | A30 L9 | L10 A30 | A3 | A4 | A5 | A6 | A7 | A8 | A9 | A10 | A11 | A12 | A13 | A14 | A15 | A16 | A17 | A18 | A19 | A20 | A21 | A22 | A23 | A24 | A25 | A26 | A27 | A28 | A29 | A31 | A32 | A33 | A34 | A35 | A36 | A37 | A38 | A39 | A40 | A41 | A42 | A43 | A44 | A45 | A46 | A47 | A48 | A49 | A50 | A51 | A52 | A53 | A54 | A55 | A56 | A57 | A58 | A59
properties part number "PCB"
